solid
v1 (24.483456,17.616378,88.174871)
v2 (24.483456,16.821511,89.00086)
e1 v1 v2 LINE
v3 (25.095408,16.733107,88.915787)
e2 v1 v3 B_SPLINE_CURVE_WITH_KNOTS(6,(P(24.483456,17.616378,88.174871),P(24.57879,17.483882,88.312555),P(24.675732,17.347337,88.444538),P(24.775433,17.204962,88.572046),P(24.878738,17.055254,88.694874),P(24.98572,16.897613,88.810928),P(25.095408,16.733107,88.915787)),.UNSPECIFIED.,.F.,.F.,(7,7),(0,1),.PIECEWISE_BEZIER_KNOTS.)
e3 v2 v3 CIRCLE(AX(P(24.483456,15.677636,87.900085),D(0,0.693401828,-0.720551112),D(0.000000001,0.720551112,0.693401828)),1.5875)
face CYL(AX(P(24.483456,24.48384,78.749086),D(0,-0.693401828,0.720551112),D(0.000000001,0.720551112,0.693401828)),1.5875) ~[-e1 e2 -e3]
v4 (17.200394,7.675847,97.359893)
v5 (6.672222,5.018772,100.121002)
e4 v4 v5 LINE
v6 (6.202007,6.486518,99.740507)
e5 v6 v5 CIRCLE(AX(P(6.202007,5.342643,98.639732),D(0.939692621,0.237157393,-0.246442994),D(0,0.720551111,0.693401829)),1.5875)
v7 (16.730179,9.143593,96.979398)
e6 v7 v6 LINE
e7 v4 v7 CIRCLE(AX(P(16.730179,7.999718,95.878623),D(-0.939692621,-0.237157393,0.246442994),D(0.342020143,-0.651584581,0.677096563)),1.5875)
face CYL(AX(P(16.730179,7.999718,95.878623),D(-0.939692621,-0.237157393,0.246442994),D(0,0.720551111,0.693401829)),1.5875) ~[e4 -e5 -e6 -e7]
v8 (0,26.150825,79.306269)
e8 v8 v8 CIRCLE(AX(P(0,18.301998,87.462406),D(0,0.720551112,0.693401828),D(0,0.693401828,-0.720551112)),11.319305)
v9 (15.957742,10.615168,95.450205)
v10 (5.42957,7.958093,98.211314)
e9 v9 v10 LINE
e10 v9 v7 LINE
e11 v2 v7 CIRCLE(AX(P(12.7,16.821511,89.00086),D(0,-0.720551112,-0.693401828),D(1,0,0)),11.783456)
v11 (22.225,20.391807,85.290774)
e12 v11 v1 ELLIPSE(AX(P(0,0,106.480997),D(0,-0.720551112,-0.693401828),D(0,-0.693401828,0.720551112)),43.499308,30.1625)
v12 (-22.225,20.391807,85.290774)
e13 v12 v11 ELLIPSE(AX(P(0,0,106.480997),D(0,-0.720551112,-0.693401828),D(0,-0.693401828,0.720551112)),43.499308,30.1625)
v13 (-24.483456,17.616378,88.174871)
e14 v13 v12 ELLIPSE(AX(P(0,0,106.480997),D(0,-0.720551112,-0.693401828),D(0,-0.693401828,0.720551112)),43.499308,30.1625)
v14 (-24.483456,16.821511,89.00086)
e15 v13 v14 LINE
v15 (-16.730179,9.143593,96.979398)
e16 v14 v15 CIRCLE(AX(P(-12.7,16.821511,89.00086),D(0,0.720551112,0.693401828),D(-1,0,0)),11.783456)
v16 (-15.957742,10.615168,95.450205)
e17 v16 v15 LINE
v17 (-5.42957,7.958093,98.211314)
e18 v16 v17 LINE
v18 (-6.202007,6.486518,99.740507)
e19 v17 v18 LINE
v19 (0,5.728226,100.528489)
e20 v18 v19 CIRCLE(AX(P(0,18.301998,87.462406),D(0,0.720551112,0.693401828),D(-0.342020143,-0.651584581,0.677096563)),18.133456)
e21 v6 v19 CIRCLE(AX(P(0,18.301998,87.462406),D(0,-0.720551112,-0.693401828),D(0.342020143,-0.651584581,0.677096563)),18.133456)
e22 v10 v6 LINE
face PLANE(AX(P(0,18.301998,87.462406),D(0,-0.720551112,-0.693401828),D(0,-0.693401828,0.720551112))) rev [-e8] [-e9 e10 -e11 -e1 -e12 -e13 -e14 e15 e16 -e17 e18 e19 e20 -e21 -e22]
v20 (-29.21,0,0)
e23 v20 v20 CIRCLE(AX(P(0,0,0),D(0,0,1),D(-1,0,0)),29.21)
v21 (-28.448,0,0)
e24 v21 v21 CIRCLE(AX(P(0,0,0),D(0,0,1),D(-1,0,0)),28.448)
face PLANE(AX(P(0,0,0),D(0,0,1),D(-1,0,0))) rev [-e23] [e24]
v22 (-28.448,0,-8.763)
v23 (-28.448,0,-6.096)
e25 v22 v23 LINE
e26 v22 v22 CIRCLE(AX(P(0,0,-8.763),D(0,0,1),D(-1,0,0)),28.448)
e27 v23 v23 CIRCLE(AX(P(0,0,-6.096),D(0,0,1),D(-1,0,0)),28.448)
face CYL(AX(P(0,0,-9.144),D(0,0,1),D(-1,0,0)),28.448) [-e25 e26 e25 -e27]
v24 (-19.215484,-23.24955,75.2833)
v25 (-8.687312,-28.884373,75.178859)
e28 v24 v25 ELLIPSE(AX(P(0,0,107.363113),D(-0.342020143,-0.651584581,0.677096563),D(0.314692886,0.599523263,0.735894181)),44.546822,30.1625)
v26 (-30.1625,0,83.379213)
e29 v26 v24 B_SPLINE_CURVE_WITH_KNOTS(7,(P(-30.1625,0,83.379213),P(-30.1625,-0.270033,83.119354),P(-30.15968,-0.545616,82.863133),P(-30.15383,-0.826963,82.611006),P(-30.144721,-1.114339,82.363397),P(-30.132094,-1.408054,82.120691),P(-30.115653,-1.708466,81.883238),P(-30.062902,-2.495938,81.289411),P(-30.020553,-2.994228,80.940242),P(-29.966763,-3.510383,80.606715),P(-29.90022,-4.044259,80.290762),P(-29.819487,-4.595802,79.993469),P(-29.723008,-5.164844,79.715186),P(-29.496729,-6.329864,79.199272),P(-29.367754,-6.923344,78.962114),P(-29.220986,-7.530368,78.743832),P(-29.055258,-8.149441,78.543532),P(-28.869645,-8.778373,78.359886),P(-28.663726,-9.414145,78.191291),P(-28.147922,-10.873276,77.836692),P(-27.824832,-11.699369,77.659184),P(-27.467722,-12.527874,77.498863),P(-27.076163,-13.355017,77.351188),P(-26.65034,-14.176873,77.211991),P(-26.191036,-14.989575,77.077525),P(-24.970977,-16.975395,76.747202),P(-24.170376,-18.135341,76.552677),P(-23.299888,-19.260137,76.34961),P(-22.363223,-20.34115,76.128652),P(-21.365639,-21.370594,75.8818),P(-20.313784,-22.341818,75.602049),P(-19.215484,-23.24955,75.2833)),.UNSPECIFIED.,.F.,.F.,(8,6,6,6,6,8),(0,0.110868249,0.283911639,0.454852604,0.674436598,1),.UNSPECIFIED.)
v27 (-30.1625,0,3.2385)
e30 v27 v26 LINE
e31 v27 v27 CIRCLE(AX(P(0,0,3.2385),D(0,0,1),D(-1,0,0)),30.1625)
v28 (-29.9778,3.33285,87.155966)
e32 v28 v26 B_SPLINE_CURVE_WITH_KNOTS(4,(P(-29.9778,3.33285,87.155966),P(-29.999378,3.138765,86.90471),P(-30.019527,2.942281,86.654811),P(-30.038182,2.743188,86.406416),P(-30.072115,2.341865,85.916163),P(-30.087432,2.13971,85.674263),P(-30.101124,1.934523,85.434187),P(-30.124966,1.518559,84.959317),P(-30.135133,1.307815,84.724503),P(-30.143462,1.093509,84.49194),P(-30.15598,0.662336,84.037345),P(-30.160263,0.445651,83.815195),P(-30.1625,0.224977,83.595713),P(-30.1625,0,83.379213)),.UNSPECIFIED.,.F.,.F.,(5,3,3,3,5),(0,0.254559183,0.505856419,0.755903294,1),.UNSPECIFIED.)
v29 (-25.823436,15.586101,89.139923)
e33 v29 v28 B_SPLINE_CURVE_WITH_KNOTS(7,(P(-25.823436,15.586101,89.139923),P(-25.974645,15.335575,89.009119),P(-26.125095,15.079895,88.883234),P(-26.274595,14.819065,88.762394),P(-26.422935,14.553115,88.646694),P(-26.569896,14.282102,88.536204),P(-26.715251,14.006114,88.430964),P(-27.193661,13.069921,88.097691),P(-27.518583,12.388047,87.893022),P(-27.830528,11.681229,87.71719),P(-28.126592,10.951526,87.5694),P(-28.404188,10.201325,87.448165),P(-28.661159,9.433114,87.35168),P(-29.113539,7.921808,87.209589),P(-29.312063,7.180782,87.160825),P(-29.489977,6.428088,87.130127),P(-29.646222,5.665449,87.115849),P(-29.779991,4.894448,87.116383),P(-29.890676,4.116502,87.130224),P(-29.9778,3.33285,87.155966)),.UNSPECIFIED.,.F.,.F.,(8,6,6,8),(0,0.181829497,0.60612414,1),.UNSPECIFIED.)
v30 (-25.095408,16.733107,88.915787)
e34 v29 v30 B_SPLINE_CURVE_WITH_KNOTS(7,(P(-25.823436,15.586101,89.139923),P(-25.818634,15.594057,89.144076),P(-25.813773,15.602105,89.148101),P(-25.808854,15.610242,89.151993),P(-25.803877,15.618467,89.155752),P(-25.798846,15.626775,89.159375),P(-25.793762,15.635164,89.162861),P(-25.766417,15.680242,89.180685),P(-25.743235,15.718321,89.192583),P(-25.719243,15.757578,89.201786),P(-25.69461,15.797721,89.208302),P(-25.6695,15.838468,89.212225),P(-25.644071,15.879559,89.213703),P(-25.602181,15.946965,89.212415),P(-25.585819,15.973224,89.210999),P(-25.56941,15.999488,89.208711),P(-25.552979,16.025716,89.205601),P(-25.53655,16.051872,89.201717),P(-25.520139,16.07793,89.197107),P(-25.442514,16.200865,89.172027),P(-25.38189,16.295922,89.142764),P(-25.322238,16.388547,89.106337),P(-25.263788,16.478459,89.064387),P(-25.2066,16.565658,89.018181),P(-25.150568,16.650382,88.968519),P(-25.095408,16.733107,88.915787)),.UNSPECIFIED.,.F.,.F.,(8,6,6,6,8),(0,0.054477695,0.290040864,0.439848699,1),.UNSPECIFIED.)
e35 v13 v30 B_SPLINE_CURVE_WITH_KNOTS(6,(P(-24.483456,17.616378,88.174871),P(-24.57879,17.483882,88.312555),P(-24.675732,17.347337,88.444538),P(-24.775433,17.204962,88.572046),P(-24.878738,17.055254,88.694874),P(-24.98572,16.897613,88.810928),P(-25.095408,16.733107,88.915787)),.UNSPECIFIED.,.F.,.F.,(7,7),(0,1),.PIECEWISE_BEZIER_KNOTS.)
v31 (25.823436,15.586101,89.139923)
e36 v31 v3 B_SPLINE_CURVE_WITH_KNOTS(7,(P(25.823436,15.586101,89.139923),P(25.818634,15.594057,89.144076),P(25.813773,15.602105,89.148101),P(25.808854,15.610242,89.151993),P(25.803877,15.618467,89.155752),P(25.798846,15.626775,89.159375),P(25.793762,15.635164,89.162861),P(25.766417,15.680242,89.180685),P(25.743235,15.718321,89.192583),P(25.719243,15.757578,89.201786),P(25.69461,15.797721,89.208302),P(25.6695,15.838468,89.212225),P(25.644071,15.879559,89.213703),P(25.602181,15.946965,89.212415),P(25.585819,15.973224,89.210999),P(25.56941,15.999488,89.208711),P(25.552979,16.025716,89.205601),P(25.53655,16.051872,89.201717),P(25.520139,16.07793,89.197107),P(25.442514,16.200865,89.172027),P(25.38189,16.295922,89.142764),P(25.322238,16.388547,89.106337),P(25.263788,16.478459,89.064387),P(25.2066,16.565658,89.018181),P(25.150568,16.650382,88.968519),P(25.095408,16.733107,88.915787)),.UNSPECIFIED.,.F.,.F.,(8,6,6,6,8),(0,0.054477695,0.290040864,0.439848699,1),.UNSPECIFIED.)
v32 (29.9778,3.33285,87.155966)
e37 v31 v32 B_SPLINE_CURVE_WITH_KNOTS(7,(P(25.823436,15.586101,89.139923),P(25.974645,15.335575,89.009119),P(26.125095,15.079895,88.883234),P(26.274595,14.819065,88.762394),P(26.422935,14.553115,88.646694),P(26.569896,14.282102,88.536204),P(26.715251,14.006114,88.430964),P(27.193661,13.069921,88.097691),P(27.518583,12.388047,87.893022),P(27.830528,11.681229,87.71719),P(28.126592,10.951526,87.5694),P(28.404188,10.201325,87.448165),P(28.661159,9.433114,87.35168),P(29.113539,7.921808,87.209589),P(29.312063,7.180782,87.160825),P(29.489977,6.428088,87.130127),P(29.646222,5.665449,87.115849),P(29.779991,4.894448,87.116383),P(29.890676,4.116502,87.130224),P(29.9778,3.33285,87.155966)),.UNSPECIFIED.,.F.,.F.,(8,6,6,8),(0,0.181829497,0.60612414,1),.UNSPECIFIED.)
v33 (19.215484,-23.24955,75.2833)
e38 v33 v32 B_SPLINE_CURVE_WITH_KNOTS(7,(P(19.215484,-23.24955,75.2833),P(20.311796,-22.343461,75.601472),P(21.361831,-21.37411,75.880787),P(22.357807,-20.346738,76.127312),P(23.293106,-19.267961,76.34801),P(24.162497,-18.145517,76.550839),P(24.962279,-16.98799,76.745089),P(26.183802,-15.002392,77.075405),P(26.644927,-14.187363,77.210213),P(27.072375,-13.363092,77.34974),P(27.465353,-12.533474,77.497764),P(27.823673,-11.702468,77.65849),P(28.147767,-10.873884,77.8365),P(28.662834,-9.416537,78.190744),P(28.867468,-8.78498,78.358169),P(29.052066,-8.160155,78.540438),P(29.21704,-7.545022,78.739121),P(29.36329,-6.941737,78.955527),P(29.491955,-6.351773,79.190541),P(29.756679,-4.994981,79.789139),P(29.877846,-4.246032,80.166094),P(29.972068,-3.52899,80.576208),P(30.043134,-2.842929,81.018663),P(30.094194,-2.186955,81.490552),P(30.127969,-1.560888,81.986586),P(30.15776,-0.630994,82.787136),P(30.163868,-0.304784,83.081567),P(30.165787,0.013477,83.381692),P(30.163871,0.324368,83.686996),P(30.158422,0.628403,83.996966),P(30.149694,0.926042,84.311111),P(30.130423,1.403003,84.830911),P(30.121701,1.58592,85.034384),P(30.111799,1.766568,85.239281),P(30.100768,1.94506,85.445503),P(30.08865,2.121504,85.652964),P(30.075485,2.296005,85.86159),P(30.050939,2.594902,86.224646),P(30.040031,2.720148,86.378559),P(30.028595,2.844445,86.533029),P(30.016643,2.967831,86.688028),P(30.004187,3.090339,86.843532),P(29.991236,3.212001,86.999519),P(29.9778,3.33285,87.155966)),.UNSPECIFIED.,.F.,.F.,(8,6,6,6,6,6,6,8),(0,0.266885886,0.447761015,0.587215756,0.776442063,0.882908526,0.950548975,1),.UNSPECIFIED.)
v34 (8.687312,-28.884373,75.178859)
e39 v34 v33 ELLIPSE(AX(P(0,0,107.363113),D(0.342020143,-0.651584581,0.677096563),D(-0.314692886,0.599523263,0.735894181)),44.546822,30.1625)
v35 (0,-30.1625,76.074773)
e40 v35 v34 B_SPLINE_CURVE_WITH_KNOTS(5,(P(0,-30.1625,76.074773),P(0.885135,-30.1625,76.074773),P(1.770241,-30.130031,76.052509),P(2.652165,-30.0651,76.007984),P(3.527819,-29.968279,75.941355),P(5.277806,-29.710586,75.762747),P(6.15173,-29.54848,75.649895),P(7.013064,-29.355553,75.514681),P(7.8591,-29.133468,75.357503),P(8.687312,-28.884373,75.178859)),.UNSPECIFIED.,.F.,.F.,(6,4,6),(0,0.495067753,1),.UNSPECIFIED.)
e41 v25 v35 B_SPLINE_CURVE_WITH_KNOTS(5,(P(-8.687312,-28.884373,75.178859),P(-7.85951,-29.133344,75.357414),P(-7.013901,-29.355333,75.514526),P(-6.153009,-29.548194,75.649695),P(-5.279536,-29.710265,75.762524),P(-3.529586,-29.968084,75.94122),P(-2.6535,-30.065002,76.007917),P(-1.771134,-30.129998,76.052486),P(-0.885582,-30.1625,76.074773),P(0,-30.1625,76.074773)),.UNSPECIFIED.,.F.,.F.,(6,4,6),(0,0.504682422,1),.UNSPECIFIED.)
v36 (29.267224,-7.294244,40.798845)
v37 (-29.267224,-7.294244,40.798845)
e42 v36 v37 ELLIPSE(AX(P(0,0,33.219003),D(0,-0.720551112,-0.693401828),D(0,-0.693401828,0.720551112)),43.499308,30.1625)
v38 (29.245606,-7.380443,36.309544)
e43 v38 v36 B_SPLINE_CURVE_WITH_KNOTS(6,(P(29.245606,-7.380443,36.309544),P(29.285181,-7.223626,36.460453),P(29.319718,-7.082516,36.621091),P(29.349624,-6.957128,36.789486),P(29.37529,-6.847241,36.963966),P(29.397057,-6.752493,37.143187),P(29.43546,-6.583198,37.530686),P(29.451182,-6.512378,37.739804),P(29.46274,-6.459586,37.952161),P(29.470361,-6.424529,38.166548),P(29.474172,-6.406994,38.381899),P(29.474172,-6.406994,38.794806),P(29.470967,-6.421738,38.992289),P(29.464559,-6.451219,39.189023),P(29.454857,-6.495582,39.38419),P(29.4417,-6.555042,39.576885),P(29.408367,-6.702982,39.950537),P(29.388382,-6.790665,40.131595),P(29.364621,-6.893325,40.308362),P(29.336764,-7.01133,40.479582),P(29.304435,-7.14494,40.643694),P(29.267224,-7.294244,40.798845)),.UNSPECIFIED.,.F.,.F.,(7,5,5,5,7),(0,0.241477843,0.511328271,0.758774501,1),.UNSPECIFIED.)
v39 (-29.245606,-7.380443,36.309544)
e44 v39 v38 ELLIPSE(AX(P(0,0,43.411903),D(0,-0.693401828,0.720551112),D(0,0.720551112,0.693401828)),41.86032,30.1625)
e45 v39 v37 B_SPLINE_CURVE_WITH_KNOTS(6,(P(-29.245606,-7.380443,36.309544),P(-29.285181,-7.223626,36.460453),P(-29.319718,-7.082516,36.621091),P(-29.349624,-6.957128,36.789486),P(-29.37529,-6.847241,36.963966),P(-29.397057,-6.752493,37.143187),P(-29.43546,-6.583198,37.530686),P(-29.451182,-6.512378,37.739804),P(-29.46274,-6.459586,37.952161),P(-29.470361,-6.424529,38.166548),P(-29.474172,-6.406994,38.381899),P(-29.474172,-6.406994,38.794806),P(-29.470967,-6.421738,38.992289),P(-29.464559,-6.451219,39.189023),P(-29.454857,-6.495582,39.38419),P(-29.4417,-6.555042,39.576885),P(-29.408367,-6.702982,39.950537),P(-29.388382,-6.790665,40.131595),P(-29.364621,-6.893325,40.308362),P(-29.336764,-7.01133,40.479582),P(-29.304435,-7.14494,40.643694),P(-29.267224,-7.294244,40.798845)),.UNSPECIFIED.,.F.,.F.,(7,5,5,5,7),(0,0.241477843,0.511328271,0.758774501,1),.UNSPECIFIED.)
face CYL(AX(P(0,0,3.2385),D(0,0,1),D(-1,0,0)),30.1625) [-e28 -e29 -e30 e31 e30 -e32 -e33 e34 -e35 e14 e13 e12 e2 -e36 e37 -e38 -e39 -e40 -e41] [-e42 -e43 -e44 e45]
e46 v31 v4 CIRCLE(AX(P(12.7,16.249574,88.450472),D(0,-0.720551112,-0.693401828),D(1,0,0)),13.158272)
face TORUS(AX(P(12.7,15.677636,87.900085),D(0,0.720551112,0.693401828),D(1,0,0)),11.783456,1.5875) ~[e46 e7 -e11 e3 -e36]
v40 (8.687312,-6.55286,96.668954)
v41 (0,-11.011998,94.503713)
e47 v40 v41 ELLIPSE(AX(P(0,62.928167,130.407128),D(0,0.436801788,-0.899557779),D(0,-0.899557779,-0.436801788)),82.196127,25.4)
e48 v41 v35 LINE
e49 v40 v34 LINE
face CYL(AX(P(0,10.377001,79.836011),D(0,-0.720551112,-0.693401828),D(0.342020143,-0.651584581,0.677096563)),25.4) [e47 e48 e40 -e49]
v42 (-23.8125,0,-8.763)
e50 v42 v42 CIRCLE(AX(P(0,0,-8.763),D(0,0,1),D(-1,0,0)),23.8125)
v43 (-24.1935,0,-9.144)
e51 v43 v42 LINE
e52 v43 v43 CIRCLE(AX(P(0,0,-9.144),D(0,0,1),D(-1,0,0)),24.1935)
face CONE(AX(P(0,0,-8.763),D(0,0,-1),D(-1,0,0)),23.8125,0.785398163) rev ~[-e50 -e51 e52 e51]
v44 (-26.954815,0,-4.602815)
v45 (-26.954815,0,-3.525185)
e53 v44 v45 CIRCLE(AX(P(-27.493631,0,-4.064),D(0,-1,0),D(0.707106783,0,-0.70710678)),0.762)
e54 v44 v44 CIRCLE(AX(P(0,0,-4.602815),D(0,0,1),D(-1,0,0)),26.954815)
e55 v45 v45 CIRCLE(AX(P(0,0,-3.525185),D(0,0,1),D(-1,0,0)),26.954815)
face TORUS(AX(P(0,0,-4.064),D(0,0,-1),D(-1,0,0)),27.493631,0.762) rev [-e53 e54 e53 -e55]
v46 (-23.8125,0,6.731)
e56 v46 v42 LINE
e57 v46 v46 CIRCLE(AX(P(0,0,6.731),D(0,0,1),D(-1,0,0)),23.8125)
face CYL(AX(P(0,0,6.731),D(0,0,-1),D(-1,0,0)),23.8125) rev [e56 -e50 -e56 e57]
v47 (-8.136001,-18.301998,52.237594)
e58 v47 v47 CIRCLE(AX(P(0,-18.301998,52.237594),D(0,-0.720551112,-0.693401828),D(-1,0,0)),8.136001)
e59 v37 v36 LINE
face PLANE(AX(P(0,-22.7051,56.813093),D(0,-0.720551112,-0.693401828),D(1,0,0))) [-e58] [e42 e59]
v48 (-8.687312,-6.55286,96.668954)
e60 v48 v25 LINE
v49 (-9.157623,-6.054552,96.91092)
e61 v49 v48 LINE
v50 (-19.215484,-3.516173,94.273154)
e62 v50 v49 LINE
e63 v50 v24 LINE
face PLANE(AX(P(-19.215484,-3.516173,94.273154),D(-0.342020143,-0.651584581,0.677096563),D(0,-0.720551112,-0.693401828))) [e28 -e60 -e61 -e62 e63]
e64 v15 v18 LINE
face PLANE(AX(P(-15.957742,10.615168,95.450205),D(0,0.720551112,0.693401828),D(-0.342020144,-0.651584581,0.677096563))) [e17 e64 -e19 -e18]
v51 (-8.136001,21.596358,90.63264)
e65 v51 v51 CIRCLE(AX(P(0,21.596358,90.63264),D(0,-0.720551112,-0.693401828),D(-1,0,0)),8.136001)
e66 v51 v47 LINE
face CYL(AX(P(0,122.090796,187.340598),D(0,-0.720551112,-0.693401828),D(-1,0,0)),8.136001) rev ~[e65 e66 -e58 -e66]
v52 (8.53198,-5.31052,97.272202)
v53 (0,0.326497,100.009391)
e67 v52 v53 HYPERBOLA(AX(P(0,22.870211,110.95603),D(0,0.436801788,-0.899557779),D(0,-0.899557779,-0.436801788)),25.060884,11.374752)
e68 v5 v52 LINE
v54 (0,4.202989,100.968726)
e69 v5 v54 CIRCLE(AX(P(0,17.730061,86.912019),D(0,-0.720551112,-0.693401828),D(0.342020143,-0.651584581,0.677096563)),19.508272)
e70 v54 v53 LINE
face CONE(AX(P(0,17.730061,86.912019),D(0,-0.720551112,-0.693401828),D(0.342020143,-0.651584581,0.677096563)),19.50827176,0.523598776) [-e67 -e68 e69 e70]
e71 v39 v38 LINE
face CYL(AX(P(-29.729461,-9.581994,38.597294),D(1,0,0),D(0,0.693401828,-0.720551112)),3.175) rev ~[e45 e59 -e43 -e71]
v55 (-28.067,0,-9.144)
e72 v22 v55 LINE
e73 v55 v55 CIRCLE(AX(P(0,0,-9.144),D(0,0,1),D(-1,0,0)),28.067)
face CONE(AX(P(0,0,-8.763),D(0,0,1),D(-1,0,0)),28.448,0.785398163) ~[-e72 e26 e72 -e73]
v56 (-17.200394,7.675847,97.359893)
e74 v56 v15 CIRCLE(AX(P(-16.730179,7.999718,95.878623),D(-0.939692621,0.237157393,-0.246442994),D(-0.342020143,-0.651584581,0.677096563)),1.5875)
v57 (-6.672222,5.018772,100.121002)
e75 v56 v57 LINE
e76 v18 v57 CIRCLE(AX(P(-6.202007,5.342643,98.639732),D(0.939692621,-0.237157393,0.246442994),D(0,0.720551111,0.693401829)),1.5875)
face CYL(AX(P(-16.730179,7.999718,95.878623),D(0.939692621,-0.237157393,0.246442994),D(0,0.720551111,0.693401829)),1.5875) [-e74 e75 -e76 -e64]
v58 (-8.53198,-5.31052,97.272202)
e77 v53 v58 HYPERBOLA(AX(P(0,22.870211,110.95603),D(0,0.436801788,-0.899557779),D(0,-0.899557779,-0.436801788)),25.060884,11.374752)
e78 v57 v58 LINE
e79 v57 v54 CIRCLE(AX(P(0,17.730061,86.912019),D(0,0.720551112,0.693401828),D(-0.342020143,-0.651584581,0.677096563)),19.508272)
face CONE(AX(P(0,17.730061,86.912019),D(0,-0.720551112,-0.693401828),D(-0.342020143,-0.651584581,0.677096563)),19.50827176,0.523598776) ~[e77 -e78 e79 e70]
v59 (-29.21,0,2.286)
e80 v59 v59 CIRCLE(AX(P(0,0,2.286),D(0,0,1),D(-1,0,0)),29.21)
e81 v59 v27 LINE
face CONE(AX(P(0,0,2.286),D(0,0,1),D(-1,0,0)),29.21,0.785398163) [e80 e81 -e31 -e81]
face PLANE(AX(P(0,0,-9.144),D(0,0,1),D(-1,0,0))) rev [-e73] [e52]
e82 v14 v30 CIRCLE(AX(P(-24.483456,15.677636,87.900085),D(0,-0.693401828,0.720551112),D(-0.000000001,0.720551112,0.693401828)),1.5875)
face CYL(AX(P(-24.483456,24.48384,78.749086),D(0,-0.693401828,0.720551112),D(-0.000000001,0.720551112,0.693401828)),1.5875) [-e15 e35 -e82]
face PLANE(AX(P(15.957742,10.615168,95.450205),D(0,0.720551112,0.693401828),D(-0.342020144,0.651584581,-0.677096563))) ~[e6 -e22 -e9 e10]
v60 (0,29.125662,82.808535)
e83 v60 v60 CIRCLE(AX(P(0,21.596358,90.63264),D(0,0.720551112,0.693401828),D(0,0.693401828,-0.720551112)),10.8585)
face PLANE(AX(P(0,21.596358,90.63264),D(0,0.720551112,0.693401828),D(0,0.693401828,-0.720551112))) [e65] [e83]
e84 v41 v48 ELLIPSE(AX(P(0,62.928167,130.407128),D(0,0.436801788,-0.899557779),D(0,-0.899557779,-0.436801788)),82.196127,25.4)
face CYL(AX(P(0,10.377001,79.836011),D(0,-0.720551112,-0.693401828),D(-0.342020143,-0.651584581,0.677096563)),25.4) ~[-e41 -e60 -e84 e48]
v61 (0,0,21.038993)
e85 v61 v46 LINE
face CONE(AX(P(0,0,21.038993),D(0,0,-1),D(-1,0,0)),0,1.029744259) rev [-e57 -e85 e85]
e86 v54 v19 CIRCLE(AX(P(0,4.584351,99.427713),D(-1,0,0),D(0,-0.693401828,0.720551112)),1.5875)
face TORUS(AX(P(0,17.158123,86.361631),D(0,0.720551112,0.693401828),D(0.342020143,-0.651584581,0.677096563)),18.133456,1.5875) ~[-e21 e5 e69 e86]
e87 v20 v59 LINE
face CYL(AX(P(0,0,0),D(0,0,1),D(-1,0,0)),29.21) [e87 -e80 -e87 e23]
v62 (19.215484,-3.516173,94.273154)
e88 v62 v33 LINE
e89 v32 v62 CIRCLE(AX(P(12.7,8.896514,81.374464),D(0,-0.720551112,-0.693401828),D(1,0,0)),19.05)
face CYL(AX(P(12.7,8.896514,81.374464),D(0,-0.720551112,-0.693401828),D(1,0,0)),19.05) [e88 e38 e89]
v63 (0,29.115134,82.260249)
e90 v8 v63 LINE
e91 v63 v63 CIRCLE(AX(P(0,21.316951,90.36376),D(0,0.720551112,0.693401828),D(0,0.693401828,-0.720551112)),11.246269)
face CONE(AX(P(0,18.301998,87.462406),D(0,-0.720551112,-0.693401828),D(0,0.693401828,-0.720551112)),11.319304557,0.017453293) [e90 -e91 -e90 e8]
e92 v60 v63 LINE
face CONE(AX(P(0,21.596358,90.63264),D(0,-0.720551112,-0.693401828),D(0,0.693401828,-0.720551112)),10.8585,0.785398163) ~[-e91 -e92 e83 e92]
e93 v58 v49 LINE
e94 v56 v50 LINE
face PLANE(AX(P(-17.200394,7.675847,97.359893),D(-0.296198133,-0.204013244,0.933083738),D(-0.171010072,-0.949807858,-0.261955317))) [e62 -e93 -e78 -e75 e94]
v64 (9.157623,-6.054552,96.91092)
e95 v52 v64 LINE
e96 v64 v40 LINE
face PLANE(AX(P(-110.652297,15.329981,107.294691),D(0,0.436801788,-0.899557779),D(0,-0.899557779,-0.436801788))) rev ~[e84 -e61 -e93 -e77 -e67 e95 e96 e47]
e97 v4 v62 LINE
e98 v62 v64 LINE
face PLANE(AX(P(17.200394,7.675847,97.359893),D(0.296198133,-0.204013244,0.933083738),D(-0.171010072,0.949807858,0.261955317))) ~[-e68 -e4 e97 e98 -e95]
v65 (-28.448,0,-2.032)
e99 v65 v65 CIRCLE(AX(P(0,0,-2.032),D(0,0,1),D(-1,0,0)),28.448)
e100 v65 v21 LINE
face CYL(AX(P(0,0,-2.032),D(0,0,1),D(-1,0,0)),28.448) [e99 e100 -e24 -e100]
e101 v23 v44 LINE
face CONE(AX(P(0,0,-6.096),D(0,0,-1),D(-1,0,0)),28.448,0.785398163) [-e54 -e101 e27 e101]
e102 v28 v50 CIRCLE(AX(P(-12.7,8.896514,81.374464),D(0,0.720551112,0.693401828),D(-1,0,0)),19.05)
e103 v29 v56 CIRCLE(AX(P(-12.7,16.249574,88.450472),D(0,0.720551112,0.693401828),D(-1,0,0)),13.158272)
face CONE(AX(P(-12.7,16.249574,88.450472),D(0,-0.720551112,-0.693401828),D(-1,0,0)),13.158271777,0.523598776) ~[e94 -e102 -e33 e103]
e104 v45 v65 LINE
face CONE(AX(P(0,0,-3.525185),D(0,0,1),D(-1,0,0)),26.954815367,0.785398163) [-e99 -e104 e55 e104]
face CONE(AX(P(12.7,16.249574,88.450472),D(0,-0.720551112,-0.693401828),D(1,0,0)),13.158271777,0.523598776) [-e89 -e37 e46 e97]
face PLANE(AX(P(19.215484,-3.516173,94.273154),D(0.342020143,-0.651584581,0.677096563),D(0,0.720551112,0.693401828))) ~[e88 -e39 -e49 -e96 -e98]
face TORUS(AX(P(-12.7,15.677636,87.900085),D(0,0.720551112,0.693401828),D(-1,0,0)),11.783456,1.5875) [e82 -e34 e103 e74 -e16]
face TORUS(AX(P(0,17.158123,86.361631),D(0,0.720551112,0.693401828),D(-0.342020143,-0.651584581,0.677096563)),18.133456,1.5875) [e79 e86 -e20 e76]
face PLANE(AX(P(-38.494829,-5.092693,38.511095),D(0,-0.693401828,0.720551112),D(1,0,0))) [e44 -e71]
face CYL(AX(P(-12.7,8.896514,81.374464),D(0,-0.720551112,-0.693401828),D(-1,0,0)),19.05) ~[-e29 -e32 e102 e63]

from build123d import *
from OCP.BRepFilletAPI import BRepFilletAPI_MakeChamfer

# Parameters (mm, degrees)
F_41_64_0_640630_DIAMETER_HOLE1_D = 16.272002
SKETCH7_W                         = 76.989658396
SKETCH7_H                         = 50.8
FCE_00_BOLT_HEAD_NOTCH_DEPTH      = 50.8
FILLET1_R                         = 3.175
CHAMFER1_SIZE                     = 0.381
CHAMFER1_SIZE2                    = 0.387827593
CUT_EXTRUDE1_DEPTH                = 110.652296603
CUT_EXTRUDE1_DEPTH_BACK           = 110.652296603


with BuildPart() as part:
    # Sketch3 → FBR-00 Basic blank revolve. (revolve)
    with BuildSketch(Plane(origin=(0, 0, 0), x_dir=(0, 0, -1), z_dir=(1, 0, 0)), mode=Mode.PRIVATE) as fbr_00_basic_blank_revolve_sk:
        with BuildLine():
            Line((-101.188905116, 30.1625), (-101.188905116, 0))
            Line((-101.188905116, 0), (-21.038993491, 0))
            Line((-21.038993491, 0), (-6.731, 23.8125))
            Line((-6.731, 23.8125), (9.144, 23.8125))
            Line((9.144, 23.8125), (9.144, 28.448))
            Line((9.144, 28.448), (6.096, 28.448))
            Line((6.096, 28.448), (4.602815367, 26.954815367))
            ThreePointArc((4.602815367, 26.954815367), (4.064, 26.731630735), (3.525184633, 26.954815367))
            Line((3.525184633, 26.954815367), (2.032, 28.448))
            Line((2.032, 28.448), (0, 28.448))
            Line((0, 28.448), (0, 29.21))
            Line((0, 29.21), (-2.286, 29.21))
            Line((-2.286, 29.21), (-3.2385, 30.1625))
            Line((-3.2385, 30.1625), (-101.188905116, 30.1625))
        make_face()
    revolve(fbr_00_basic_blank_revolve_sk.sketch.rotate(Axis((0, 0, -27.766671499), (0, 0, 1)), 90), axis=Axis((0, 0, -27.766671499), (0, 0, 1)))

    # Sketch13 → FCR-00 lacation boss, Cut-Revolve. (revolve, cut)
    with BuildSketch(Plane(origin=(0, 0, 0), x_dir=(0, 0, -1), z_dir=(1, 0, 0))):
        Polygon((-60.009409083, 44.720607894), (-79.306268956, 26.150824711), (-82.534005377, 29.389847768), (-90.632639597, 21.596357919), (-105.074812876, 36.603996473), (-77.621815521, 63.022606131), align=None)
    revolve(axis=Axis((0, 36.603996473, 105.074812876), (0, 0.720551111680328, 0.6934018282758155)), mode=Mode.SUBTRACT)

    # 41/64 (0.640630) Diameter Hole1 (through all)
    with Locations(Plane(origin=(0, 56.495615275, 54.366945365), x_dir=(1, 0, 0), z_dir=(0, 0.720551111680328, 0.6934018282758155))):
        with Locations((0, -50.330495151)):
            Hole(F_41_64_0_640630_DIAMETER_HOLE1_D / 2)

    # FCS-00 End trim, Cut-Sweep: sweep along a path in Sketch6
    with BuildLine(Plane(origin=(0, 53.201255592, 51.196712206), x_dir=(1, 0, 0), z_dir=(0, 0.720551111680328, 0.6934018282758155))) as fcs_00_end_trim_cut_sweep_path:
        Line((-25.4, -39.765602031), (-25.4, -52.465602031))
        ThreePointArc((-25.4, -52.465602031), (-23.103230962, -59.750022773), (-17.04365582, -64.399698315))
        Line((-17.04365582, -64.399698315), (-6.51548373, -68.231639577))
        ThreePointArc((-6.51548373, -68.231639577), (-3.307997785, -69.091082846), (0, -69.380495151))
    # Sketch16 → FCS-00 End trim, Cut-Sweep (sweep, cut)
    with BuildSketch(Plane(origin=(0, 117.771567215, -110.982310617), x_dir=(0, -0.9982398279237649, -0.059306373575968775), z_dir=(-1, 0, 0))):
        with BuildLine():
            Line((152.30720814, 182.06896008), (168.803188567, 201.383271607))
            Line((168.803188567, 201.383271607), (110.860253989, 250.871212889))
            Line((110.860253989, 250.871212889), (88.178280901, 224.314034541))
            Line((88.178280901, 224.314034541), (97.835436664, 216.066044327))
            Line((97.835436664, 216.066044327), (99.302186796, 217.783388083))
            ThreePointArc((99.302186796, 217.783388083), (99.979412877, 218.248832673), (100.798630163, 218.313306472))
            Line((100.798630163, 218.313306472), (112.384771543, 216.165942094))
            Line((112.384771543, 216.165942094), (152.30720814, 182.06896008))
        make_face()
    fcs_00_end_trim_cut_sweep = sweep(path=fcs_00_end_trim_cut_sweep_path.line, mode=Mode.SUBTRACT)

    # FMR-00 Mirror end trim.: FCS-00 End trim, Cut-Sweep across plane
    add(fcs_00_end_trim_cut_sweep.mirror(Plane(origin=(0, 0, 0), x_dir=(0, 0, 1), z_dir=(1, 0, 0))), mode=Mode.SUBTRACT)

    # Sketch7 → FCE-00 Bolt head notch. (cut)
    with BuildSketch(Plane(origin=(0, -18.301998237, 52.237593562), x_dir=(1, 0, 0), z_dir=(0, -0.7205511116803286, -0.6934018282758149))):
        with Locations((0, 6.35)):
            Rectangle(SKETCH7_W, SKETCH7_H)
    extrude(amount=FCE_00_BOLT_HEAD_NOTCH_DEPTH, mode=Mode.SUBTRACT)

    # Fillet1
    fillet1_edges = [part.edges().sort_by_distance(p)[0] for p in [
        (0, -5.092693408, 38.511094884),
    ]]
    fillet(fillet1_edges, radius=FILLET1_R)

    # Chamfer1: one chamfer whose edges measure the first distance from different faces: ONE call of the kernel's chamfer builder (chamfer() names one face for all edges)
    chamfer1_edges_1 = [part.edges().sort_by_distance(p)[0] for p in [
        (28.448, 0, -9.144),
        (23.8125, 0, -9.144),
    ]]
    chamfer1_edges_2 = [part.edges().sort_by_distance(p)[0] for p in [
        (0, 13.80286807, 98.731273817),
    ]]
    chamfer1_side_2 = [part.faces().sort_by_distance(p)[0] for p in [
        (0, 14.023301251, 98.50220985),
    ]]
    chamfer1 = BRepFilletAPI_MakeChamfer(part.part.solid().wrapped)
    for e in chamfer1_edges_1:
        chamfer1.Add(CHAMFER1_SIZE, e.wrapped)
    for e in chamfer1_edges_2:
        chamfer1.Add(CHAMFER1_SIZE, CHAMFER1_SIZE2, e.wrapped, chamfer1_side_2[0].wrapped)  # the first distance lies on this face
    add(Compound.cast(chamfer1.Shape()), mode=Mode.REPLACE)

    # Sketch17 → Cut-Extrude1 (cut, two sides: drawn at the far end of the back side and taken through both)
    with BuildSketch(Plane(origin=(0, 0, 0), x_dir=(0, 0, -1), z_dir=(1, 0, 0)).offset(-CUT_EXTRUDE1_DEPTH_BACK)):
        Polygon((-220.872013196, 249.233244147), (-107.294691274, 15.329981457), (-88.096461038, -24.20721324), (25.480860884, -258.110475929), (-442.325664495, -485.265119773), (-688.678538575, 22.078600303), align=None)
    extrude(amount=CUT_EXTRUDE1_DEPTH + CUT_EXTRUDE1_DEPTH_BACK, mode=Mode.SUBTRACT)


solid = part.part
